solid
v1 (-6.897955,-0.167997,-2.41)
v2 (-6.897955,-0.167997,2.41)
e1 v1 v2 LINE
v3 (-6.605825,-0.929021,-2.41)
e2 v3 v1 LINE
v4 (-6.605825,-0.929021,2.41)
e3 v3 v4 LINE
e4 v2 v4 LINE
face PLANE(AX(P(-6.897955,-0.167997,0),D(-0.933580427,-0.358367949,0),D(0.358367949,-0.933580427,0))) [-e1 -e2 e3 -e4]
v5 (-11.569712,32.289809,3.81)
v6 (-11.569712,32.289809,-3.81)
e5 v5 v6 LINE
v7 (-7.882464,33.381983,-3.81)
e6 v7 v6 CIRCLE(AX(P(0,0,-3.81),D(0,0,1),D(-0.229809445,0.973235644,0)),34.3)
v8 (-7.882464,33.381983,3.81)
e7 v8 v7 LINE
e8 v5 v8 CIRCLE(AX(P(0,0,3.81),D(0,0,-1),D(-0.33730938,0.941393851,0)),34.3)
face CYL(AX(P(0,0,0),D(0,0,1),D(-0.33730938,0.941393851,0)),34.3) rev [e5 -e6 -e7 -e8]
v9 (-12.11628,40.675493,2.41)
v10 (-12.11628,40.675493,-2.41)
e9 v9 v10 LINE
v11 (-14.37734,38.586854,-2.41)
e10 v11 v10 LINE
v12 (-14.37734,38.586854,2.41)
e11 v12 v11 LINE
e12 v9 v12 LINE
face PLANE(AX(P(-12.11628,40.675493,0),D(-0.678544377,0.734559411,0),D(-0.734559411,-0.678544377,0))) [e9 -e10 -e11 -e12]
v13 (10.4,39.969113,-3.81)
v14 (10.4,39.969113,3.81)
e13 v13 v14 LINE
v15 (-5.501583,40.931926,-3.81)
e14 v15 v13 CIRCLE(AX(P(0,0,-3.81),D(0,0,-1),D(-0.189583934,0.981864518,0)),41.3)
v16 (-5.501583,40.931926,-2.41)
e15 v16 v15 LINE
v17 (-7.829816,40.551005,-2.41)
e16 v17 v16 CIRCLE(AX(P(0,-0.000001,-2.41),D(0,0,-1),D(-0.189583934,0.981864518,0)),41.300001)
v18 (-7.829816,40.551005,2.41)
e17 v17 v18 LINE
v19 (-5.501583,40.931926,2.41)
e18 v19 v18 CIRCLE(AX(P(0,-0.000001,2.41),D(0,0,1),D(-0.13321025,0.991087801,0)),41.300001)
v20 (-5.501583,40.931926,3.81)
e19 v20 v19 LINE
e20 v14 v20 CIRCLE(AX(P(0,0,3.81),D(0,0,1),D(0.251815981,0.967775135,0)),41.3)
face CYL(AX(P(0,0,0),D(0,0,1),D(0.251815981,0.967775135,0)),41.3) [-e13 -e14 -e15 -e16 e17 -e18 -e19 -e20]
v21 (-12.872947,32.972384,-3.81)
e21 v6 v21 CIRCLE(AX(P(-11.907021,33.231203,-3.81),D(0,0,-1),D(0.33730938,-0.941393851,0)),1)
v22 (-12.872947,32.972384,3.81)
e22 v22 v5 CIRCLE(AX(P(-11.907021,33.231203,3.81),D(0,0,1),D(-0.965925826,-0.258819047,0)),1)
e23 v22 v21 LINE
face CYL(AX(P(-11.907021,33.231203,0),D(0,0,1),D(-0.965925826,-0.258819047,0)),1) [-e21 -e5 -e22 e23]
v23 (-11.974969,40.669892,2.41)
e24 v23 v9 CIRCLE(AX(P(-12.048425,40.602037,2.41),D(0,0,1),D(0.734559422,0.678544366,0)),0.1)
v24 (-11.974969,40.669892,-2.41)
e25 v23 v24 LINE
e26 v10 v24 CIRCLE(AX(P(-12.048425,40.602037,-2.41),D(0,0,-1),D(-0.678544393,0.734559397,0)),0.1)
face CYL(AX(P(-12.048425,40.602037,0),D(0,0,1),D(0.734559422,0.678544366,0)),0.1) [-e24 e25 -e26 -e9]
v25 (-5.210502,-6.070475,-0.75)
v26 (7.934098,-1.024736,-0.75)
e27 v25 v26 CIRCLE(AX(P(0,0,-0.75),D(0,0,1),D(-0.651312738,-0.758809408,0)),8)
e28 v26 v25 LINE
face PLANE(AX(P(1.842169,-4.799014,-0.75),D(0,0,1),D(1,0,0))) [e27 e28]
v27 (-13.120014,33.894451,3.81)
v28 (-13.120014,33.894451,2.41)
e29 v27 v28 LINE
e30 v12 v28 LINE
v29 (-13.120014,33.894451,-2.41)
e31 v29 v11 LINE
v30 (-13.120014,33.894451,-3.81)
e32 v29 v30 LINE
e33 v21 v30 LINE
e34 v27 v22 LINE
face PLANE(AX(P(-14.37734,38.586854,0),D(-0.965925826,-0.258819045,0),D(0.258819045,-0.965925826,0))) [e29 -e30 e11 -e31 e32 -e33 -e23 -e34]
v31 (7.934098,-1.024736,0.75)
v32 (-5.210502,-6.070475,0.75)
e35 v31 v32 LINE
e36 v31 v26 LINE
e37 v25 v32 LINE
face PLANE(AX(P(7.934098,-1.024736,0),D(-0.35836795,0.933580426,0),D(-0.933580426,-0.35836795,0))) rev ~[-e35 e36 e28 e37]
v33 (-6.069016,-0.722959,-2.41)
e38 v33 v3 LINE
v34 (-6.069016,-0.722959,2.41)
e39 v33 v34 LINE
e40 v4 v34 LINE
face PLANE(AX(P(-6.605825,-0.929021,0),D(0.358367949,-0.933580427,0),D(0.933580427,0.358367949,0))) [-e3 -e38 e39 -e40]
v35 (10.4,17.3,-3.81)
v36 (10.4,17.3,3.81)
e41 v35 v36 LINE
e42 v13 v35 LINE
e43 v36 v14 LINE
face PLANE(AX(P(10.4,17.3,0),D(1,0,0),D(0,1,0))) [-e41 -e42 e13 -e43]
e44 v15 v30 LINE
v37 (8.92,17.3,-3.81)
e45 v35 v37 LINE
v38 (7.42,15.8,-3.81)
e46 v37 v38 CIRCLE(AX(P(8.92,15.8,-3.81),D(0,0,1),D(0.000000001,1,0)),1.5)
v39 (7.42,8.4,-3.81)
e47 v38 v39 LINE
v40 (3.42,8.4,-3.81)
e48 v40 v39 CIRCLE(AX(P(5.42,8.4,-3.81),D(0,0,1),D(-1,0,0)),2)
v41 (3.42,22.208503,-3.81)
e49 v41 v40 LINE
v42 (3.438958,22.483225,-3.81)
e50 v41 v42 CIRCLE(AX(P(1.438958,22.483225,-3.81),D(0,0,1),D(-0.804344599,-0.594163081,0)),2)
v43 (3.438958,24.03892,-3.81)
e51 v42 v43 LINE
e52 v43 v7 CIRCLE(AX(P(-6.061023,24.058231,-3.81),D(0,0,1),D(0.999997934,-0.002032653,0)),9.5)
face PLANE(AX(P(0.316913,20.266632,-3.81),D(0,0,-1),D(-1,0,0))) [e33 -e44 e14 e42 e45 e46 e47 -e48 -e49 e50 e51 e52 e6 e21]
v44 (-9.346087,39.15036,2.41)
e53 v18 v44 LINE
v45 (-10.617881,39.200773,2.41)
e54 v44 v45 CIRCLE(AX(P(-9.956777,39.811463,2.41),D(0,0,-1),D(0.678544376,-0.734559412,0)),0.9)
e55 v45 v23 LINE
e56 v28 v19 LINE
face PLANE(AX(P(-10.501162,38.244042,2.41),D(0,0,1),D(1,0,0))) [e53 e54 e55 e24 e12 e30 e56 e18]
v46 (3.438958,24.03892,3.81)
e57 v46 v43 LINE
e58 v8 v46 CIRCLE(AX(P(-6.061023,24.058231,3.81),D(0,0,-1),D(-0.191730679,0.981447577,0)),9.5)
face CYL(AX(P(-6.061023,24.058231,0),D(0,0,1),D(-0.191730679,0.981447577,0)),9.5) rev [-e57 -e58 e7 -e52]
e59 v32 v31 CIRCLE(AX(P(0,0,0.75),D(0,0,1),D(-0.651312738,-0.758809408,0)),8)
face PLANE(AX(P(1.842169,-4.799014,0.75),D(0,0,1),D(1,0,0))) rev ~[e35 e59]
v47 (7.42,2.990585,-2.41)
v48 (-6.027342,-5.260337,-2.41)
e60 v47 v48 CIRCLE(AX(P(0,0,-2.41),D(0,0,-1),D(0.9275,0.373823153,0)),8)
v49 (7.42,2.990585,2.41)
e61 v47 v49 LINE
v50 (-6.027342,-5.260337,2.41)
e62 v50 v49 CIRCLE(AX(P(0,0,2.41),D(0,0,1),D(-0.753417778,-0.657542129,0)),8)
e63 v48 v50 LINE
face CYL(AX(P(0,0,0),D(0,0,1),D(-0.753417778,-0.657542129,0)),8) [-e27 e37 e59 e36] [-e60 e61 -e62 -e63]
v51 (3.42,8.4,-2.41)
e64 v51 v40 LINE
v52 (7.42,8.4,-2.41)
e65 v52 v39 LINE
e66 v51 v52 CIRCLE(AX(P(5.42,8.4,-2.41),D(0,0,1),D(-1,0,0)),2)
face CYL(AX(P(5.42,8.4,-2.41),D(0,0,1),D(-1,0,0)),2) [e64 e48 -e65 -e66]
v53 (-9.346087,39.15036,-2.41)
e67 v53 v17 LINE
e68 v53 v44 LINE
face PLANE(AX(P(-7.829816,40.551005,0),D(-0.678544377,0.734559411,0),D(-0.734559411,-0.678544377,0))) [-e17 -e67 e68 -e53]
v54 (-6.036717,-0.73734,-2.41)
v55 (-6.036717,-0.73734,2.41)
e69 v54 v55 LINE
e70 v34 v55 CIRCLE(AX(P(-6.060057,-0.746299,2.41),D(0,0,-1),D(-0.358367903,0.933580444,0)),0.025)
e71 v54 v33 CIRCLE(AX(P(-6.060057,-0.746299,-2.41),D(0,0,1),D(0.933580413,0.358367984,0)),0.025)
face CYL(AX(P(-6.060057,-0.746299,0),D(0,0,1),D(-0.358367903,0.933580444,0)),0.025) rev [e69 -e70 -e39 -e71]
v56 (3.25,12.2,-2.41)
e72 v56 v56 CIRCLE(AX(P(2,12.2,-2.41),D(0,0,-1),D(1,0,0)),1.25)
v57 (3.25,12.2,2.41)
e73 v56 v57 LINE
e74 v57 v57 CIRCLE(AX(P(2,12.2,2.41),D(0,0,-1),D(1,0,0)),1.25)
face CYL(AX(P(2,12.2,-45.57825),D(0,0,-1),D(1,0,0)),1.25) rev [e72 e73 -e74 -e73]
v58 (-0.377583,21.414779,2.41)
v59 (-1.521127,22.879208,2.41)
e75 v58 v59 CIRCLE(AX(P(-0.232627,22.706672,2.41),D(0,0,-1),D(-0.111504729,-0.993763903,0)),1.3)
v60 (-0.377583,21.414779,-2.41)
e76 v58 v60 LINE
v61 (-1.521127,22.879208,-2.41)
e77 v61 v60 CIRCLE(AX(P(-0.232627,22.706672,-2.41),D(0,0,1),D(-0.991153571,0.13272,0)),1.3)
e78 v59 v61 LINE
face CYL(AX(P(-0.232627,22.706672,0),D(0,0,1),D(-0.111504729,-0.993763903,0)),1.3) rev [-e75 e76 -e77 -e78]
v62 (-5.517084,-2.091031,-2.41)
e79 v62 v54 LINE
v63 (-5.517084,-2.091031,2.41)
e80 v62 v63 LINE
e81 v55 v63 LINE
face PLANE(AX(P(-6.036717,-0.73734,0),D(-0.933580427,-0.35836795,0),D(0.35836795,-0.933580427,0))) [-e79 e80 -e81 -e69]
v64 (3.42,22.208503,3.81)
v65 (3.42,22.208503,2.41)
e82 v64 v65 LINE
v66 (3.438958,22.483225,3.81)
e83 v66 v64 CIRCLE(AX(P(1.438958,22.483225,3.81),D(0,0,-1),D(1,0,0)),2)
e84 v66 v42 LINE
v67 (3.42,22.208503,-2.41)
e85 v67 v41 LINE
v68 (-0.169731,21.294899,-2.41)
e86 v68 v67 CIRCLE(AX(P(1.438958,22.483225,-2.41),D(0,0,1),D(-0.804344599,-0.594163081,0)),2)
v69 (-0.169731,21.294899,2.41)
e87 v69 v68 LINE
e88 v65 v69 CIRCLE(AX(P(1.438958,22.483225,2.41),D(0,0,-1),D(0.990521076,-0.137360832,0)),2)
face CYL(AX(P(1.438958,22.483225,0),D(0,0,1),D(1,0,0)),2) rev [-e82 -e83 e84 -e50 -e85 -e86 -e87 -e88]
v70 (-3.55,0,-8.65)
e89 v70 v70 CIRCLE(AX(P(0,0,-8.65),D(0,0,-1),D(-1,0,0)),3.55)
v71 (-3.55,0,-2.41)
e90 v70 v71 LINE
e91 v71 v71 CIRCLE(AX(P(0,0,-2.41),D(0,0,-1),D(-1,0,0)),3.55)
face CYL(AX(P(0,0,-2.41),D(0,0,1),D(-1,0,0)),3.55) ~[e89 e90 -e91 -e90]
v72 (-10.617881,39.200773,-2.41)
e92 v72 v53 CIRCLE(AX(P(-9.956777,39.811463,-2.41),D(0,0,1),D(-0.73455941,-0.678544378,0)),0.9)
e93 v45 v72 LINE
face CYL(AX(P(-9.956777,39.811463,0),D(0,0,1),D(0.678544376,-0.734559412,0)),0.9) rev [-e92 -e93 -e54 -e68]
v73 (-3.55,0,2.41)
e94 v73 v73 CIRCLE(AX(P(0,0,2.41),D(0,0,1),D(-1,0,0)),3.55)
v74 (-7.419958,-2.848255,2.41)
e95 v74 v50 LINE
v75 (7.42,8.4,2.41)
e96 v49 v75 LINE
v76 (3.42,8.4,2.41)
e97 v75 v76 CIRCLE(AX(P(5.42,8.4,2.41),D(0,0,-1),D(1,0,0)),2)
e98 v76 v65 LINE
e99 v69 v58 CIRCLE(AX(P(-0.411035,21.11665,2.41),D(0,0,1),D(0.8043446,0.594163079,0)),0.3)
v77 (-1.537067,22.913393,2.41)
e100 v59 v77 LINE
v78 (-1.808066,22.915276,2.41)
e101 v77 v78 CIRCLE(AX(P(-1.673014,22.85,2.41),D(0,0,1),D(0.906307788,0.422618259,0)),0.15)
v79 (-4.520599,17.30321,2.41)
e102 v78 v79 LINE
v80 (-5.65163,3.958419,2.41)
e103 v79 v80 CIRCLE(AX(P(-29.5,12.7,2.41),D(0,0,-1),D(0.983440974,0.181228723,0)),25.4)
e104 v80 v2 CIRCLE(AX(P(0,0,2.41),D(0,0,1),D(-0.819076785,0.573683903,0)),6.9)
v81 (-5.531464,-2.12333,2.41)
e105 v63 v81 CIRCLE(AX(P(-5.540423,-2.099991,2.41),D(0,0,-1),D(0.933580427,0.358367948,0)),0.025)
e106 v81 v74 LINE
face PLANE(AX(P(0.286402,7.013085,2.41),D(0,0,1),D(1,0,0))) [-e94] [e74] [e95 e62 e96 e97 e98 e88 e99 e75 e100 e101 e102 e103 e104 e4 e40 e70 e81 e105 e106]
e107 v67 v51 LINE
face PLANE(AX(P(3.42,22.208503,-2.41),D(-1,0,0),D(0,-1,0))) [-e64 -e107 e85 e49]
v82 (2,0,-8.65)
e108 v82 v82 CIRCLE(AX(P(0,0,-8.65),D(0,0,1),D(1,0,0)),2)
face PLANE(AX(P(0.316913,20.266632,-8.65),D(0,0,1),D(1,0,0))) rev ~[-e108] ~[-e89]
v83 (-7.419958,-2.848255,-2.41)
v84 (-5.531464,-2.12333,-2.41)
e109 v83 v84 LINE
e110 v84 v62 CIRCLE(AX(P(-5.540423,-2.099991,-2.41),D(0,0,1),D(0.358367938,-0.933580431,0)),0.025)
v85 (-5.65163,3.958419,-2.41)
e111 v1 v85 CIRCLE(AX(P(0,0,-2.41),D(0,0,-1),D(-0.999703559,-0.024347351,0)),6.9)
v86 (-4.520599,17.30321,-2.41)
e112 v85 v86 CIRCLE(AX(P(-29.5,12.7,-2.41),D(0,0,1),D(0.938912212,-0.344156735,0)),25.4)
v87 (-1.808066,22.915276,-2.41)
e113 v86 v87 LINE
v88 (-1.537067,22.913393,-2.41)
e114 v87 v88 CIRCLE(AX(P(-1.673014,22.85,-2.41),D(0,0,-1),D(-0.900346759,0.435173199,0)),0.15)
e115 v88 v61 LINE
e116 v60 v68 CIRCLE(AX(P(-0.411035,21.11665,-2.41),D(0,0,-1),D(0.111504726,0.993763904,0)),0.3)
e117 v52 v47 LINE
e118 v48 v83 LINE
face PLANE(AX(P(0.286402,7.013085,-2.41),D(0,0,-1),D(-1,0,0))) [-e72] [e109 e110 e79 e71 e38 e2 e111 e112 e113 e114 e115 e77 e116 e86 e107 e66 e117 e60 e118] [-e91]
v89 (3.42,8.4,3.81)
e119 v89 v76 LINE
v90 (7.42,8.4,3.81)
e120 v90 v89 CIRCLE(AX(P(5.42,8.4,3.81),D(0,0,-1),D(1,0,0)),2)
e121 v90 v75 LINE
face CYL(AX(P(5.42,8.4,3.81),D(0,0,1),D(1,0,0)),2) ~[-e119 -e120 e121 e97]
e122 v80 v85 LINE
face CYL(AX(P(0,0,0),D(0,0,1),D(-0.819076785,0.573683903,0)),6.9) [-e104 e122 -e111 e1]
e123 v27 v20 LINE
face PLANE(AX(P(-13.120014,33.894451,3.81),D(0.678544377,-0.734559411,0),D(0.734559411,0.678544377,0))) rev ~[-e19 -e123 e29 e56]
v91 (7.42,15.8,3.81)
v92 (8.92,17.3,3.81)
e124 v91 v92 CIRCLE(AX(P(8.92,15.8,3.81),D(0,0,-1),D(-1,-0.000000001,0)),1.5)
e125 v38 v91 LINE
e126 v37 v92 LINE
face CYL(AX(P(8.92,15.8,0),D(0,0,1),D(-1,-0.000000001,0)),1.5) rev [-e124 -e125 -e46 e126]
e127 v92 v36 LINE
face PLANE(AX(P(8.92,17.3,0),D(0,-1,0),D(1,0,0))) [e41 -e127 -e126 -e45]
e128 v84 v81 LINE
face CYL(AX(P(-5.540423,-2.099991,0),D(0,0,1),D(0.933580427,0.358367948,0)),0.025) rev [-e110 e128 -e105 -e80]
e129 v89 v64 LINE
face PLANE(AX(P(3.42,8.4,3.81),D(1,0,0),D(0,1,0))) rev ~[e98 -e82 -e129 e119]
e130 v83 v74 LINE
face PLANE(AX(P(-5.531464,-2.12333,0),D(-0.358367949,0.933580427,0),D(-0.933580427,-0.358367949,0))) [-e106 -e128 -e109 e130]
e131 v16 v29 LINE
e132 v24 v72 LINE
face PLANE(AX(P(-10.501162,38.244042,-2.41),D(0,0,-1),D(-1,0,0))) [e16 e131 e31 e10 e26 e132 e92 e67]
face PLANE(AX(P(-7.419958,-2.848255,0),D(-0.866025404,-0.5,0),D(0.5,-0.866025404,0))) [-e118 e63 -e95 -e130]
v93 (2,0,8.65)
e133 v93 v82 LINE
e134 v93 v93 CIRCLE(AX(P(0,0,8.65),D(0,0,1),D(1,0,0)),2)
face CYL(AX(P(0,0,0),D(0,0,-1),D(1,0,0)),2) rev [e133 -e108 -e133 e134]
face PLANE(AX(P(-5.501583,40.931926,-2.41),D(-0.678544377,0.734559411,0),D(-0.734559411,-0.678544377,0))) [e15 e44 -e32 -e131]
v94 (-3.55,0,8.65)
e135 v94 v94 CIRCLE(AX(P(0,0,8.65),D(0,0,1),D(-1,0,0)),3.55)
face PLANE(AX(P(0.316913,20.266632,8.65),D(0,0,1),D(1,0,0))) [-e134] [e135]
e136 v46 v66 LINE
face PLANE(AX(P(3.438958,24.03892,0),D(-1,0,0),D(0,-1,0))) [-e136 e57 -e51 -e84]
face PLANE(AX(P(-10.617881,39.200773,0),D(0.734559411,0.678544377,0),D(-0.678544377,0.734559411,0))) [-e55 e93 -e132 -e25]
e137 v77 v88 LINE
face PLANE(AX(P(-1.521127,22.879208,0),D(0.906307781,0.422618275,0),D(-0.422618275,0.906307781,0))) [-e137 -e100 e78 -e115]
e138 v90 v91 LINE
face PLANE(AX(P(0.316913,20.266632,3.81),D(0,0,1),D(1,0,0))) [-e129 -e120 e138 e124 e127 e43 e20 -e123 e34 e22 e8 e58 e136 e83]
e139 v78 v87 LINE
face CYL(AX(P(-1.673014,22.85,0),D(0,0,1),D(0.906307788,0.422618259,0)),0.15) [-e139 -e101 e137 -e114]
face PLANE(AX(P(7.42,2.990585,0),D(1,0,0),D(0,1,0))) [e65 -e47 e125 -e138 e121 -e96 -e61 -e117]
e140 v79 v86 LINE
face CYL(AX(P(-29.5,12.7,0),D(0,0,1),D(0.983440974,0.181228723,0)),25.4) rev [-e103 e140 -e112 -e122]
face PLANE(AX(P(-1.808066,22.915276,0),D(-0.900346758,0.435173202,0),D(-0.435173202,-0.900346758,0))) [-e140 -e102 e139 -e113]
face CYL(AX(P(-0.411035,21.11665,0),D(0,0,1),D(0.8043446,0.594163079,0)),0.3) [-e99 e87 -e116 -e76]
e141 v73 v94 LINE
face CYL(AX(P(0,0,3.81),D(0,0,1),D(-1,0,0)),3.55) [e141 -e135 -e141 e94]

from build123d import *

# Parameters (mm, degrees)
SKETCH1_R               = 2
BOSS_EXTRUDE2_DEPTH     = 8.65
CUT_EXTRUDE3_START      = -4.84
SKETCH21_R              = 3.55
CUT_EXTRUDE3_DEPTH      = 4.84
SKETCH18_R              = 3.55
CUT_EXTRUDE4_DEPTH      = 4.84
SKETCH27_R              = 3.55
CUT_EXTRUDE7_DEPTH      = 1.4
CUT_EXTRUDE8_START      = -1.4
SKETCH29_R              = 3.55
CUT_EXTRUDE8_DEPTH      = 1.4
CUT_EXTRUDE9_DEPTH      = 45.578250281
CUT_EXTRUDE9_DEPTH_BACK = 45.578250281
SKETCH6_R               = 1.25
CUT_EXTRUDE10_DEPTH     = 0.75


with BuildPart() as part:
    # Sketch1 → Boss-Extrude2 (new, symmetric)
    with BuildSketch(Plane.XY):
        with BuildLine():
            ThreePointArc((-5.651629818, 3.958418927), (-6.605289058, 1.995032948), (-6.897954559, -0.167996721))
            Line((-6.897954559, -0.167996721), (-6.605824697, -0.929021032))
            Line((-6.605824697, -0.929021032), (-6.069015951, -0.722959461))
            ThreePointArc((-6.069015951, -0.722959461), (-6.049888336, -0.723460336), (-6.036717242, -0.737339773))
            Line((-6.036717242, -0.737339773), (-5.517083715, -2.091031392))
            ThreePointArc((-5.517083715, -2.091031392), (-5.517584589, -2.110159006), (-5.531464027, -2.123330101))
            Line((-5.531464027, -2.123330101), (-7.419958348, -2.848255151))
            Line((-7.419958348, -2.848255151), (-6.027342222, -5.260337036))
            ThreePointArc((-6.027342222, -5.260337036), (4.183814464, -6.818775296), (7.42, 2.990585227))
            Line((7.42, 2.990585227), (7.42, 9.395292614))
            Line((7.42, 9.395292614), (7.42, 15.8))
            ThreePointArc((7.42, 15.8), (7.859339828, 16.860660172), (8.92, 17.3))
            Line((8.92, 17.3), (10.4, 17.3))
            Line((10.4, 17.3), (10.4, 39.969113075))
            ThreePointArc((10.4, 39.969113075), (1.317615366, 41.278976365), (-7.82981649, 40.551004596))
            Line((-7.82981649, 40.551004596), (-9.346087248, 39.150359553))
            ThreePointArc((-9.346087248, 39.150359553), (-9.992424937, 38.912169279), (-10.617880658, 39.200773083))
            Line((-10.617880658, 39.200773083), (-11.974969412, 40.669891905))
            ThreePointArc((-11.974969412, 40.669891905), (-12.044464492, 40.701958995), (-12.116279791, 40.675493408))
            Line((-12.116279791, 40.675493408), (-14.377339743, 38.586854295))
            Line((-14.377339743, 38.586854295), (-12.872946932, 32.972383888))
            ThreePointArc((-12.872946932, 32.972383888), (-12.370989585, 32.345351225), (-11.569711725, 32.289809083))
            ThreePointArc((-11.569711725, 32.289809083), (-9.741406245, 32.887611716), (-7.882463977, 33.38198259))
            ThreePointArc((-7.882463977, 33.38198259), (-0.014271933, 31.38535878), (3.438957848, 24.038920408))
            Line((3.438957848, 24.038920408), (3.438957848, 22.483224896))
            ThreePointArc((3.438957848, 22.483224896), (2.06450625, 20.583569875), (-0.169731349, 21.294898734))
            ThreePointArc((-0.169731349, 21.294898734), (-0.261150212, 21.376524071), (-0.377583309, 21.41477898))
            ThreePointArc((-0.377583309, 21.41477898), (-1.257242701, 21.906570189), (-1.521126803, 22.879208054))
            Line((-1.521126803, 22.879208054), (-1.537067384, 22.913392739))
            ThreePointArc((-1.537067384, 22.913392739), (-1.671971186, 22.999996378), (-1.808065565, 22.91527598))
            Line((-1.808065565, 22.91527598), (-4.520599254, 17.303209571))
            ThreePointArc((-4.520599254, 17.303209571), (-4.190739584, 10.554927226), (-5.651629818, 3.958418927))
        make_face()
        Circle(SKETCH1_R, mode=Mode.SUBTRACT)
    extrude(amount=BOSS_EXTRUDE2_DEPTH, both=True)

    # Sketch21 → Cut-Extrude3 (cut)
    with BuildSketch(Plane(origin=(0, 0, -8.65), x_dir=(-1, 0, 0), z_dir=(0, 0, -1)).offset(CUT_EXTRUDE3_START)):
        with BuildLine():
            Line((12.872946932, 32.972383888), (14.377339743, 38.586854295))
            Line((14.377339743, 38.586854295), (12.116279791, 40.675493408))
            ThreePointArc((12.116279791, 40.675493408), (12.044464492, 40.701958995), (11.974969412, 40.669891905))
            Line((11.974969412, 40.669891905), (10.617880658, 39.200773083))
            ThreePointArc((10.617880658, 39.200773083), (9.992424937, 38.912169279), (9.346087248, 39.150359553))
            Line((9.346087248, 39.150359553), (7.82981649, 40.551004596))
            ThreePointArc((7.82981649, 40.551004596), (-1.317615366, 41.278976365), (-10.4, 39.969113075))
            Line((-10.4, 39.969113075), (-10.4, 17.3))
            Line((-10.4, 17.3), (-8.92, 17.3))
            ThreePointArc((-8.92, 17.3), (-7.859339828, 16.860660172), (-7.42, 15.8))
            Line((-7.42, 15.8), (-7.42, 9.395292614))
            Line((-7.42, 9.395292614), (-7.42, 2.990585227))
            ThreePointArc((-7.42, 2.990585227), (-4.183814464, -6.818775296), (6.027342222, -5.260337036))
            Line((6.027342222, -5.260337036), (7.419958348, -2.848255151))
            Line((7.419958348, -2.848255151), (5.531464027, -2.123330101))
            ThreePointArc((5.531464027, -2.123330101), (5.517584589, -2.110159006), (5.517083715, -2.091031392))
            Line((5.517083715, -2.091031392), (6.036717242, -0.737339773))
            ThreePointArc((6.036717242, -0.737339773), (6.049888336, -0.723460336), (6.069015951, -0.722959461))
            Line((6.069015951, -0.722959461), (6.605824697, -0.929021032))
            Line((6.605824697, -0.929021032), (6.897954559, -0.167996721))
            ThreePointArc((6.897954559, -0.167996721), (6.605289058, 1.995032948), (5.651629818, 3.958418927))
            ThreePointArc((5.651629818, 3.958418927), (4.190739584, 10.554927226), (4.520599254, 17.303209571))
            Line((4.520599254, 17.303209571), (1.808065565, 22.91527598))
            ThreePointArc((1.808065565, 22.91527598), (1.671971186, 22.999996378), (1.537067384, 22.913392739))
            Line((1.537067384, 22.913392739), (1.521126803, 22.879208054))
            ThreePointArc((1.521126803, 22.879208054), (1.257242701, 21.906570189), (0.377583309, 21.41477898))
            ThreePointArc((0.377583309, 21.41477898), (0.261150212, 21.376524071), (0.169731349, 21.294898734))
            ThreePointArc((0.169731349, 21.294898734), (-2.06450625, 20.583569875), (-3.438957848, 22.483224896))
            Line((-3.438957848, 22.483224896), (-3.438957848, 24.038920408))
            ThreePointArc((-3.438957848, 24.038920408), (0.014271933, 31.38535878), (7.882463977, 33.38198259))
            ThreePointArc((7.882463977, 33.38198259), (9.741406245, 32.887611716), (11.569711725, 32.289809083))
            ThreePointArc((11.569711725, 32.289809083), (12.370989585, 32.345351225), (12.872946932, 32.972383888))
        make_face()
        Circle(SKETCH21_R, mode=Mode.SUBTRACT)
    extrude(amount=CUT_EXTRUDE3_DEPTH, mode=Mode.SUBTRACT)

    # Sketch18 → Cut-Extrude4 (cut)
    with BuildSketch(Plane.XY.offset(8.65)):
        with BuildLine():
            ThreePointArc((-5.651629818, 3.958418927), (-6.605289058, 1.995032948), (-6.897954559, -0.167996721))
            Line((-6.897954559, -0.167996721), (-6.605824697, -0.929021032))
            Line((-6.605824697, -0.929021032), (-6.069015951, -0.722959461))
            ThreePointArc((-6.069015951, -0.722959461), (-6.049888336, -0.723460336), (-6.036717242, -0.737339773))
            Line((-6.036717242, -0.737339773), (-5.517083715, -2.091031392))
            ThreePointArc((-5.517083715, -2.091031392), (-5.517584589, -2.110159006), (-5.531464027, -2.123330101))
            Line((-5.531464027, -2.123330101), (-7.419958348, -2.848255151))
            Line((-7.419958348, -2.848255151), (-6.027342222, -5.260337036))
            ThreePointArc((-6.027342222, -5.260337036), (4.183814464, -6.818775296), (7.42, 2.990585227))
            Line((7.42, 2.990585227), (7.42, 9.395292614))
            Line((7.42, 9.395292614), (7.42, 15.8))
            ThreePointArc((7.42, 15.8), (7.859339828, 16.860660172), (8.92, 17.3))
            Line((8.92, 17.3), (10.4, 17.3))
            Line((10.4, 17.3), (10.4, 39.969113075))
            ThreePointArc((10.4, 39.969113075), (1.317615366, 41.278976365), (-7.82981649, 40.551004596))
            Line((-7.82981649, 40.551004596), (-9.346087248, 39.150359553))
            ThreePointArc((-9.346087248, 39.150359553), (-9.992424937, 38.912169279), (-10.617880658, 39.200773083))
            Line((-10.617880658, 39.200773083), (-11.974969412, 40.669891905))
            ThreePointArc((-11.974969412, 40.669891905), (-12.044464492, 40.701958995), (-12.116279791, 40.675493408))
            Line((-12.116279791, 40.675493408), (-14.377339743, 38.586854295))
            Line((-14.377339743, 38.586854295), (-12.872946932, 32.972383888))
            ThreePointArc((-12.872946932, 32.972383888), (-12.370989585, 32.345351225), (-11.569711725, 32.289809083))
            ThreePointArc((-11.569711725, 32.289809083), (-9.741406245, 32.887611716), (-7.882463977, 33.38198259))
            ThreePointArc((-7.882463977, 33.38198259), (-0.014271933, 31.38535878), (3.438957848, 24.038920408))
            Line((3.438957848, 24.038920408), (3.438957848, 22.483224896))
            ThreePointArc((3.438957848, 22.483224896), (2.06450625, 20.583569875), (-0.169731349, 21.294898734))
            ThreePointArc((-0.169731349, 21.294898734), (-0.261150212, 21.376524071), (-0.377583309, 21.41477898))
            ThreePointArc((-0.377583309, 21.41477898), (-1.257242701, 21.906570189), (-1.521126803, 22.879208054))
            Line((-1.521126803, 22.879208054), (-1.537067384, 22.913392739))
            ThreePointArc((-1.537067384, 22.913392739), (-1.671971186, 22.999996378), (-1.808065565, 22.91527598))
            Line((-1.808065565, 22.91527598), (-4.520599254, 17.303209571))
            ThreePointArc((-4.520599254, 17.303209571), (-4.190739584, 10.554927226), (-5.651629818, 3.958418927))
        make_face()
        with Locations(Location((0, 0, 0), (0, 0, 180))):
            Circle(SKETCH18_R, mode=Mode.SUBTRACT)
    extrude(amount=-CUT_EXTRUDE4_DEPTH, mode=Mode.SUBTRACT)

    # Sketch27 → Cut-Extrude7 (cut)
    # profile 1 of 2: a face of its own
    with BuildSketch(Plane.XY.offset(3.81)):
        with BuildLine():
            ThreePointArc((-5.651629818, 3.958418927), (-6.605289058, 1.995032948), (-6.897954559, -0.167996721))
            Line((-6.897954559, -0.167996721), (-6.605824697, -0.929021032))
            Line((-6.605824697, -0.929021032), (-6.069015951, -0.722959461))
            ThreePointArc((-6.069015951, -0.722959461), (-6.049888336, -0.723460336), (-6.036717242, -0.737339773))
            Line((-6.036717242, -0.737339773), (-5.517083715, -2.091031392))
            ThreePointArc((-5.517083715, -2.091031392), (-5.517584589, -2.110159006), (-5.531464027, -2.123330101))
            Line((-5.531464027, -2.123330101), (-7.419958348, -2.848255151))
            Line((-7.419958348, -2.848255151), (-6.027342222, -5.260337036))
            ThreePointArc((-6.027342222, -5.260337036), (4.183814464, -6.818775296), (7.42, 2.990585227))
            Line((7.42, 2.990585227), (7.42, 8.4))
            ThreePointArc((7.42, 8.4), (5.42, 6.4), (3.42, 8.4))
            Line((3.42, 8.4), (3.42, 22.208503231))
            ThreePointArc((3.42, 22.208503231), (1.932242731, 20.545011795), (-0.169731349, 21.294898734))
            ThreePointArc((-0.169731349, 21.294898734), (-0.261150212, 21.376524071), (-0.377583309, 21.41477898))
            ThreePointArc((-0.377583309, 21.41477898), (-1.257242701, 21.906570189), (-1.521126803, 22.879208054))
            Line((-1.521126803, 22.879208054), (-1.537067384, 22.913392739))
            ThreePointArc((-1.537067384, 22.913392739), (-1.671971186, 22.999996378), (-1.808065565, 22.91527598))
            Line((-1.808065565, 22.91527598), (-4.520599254, 17.303209571))
            ThreePointArc((-4.520599254, 17.303209571), (-4.190739584, 10.554927226), (-5.651629818, 3.958418927))
        make_face()
        with Locations(Location((0, 0, 0), (0, 0, 180))):
            Circle(SKETCH27_R, mode=Mode.SUBTRACT)
    # profile 2 of 2: a face of its own
    with BuildSketch(Plane.XY.offset(3.81)):
        with BuildLine():
            Line((-13.120014147, 33.89445129), (-5.501583304, 40.931926184))
            ThreePointArc((-5.501583304, 40.931926184), (-6.668420385, 40.758093301), (-7.82981649, 40.551004596))
            Line((-7.82981649, 40.551004596), (-9.346087248, 39.150359553))
            ThreePointArc((-9.346087248, 39.150359553), (-9.992424937, 38.912169279), (-10.617880658, 39.200773083))
            Line((-10.617880658, 39.200773083), (-11.974969412, 40.669891905))
            ThreePointArc((-11.974969412, 40.669891905), (-12.044464492, 40.701958995), (-12.116279791, 40.675493408))
            Line((-12.116279791, 40.675493408), (-14.377339743, 38.586854295))
            Line((-14.377339743, 38.586854295), (-13.120014147, 33.89445129))
        make_face()
    extrude(amount=-CUT_EXTRUDE7_DEPTH, mode=Mode.SUBTRACT)

    # Sketch29 → Cut-Extrude8 (cut)
    # profile 1 of 2: a face of its own
    with BuildSketch(Plane(origin=(0, 0, -3.81), x_dir=(-1, 0, 0), z_dir=(0, 0, -1)).offset(CUT_EXTRUDE8_START)):
        with BuildLine():
            Line((13.120014147, 33.89445129), (14.377339743, 38.586854295))
            Line((14.377339743, 38.586854295), (12.116279791, 40.675493408))
            ThreePointArc((12.116279791, 40.675493408), (12.044464492, 40.701958995), (11.974969412, 40.669891905))
            Line((11.974969412, 40.669891905), (10.617880658, 39.200773083))
            ThreePointArc((10.617880658, 39.200773083), (9.992424937, 38.912169279), (9.346087248, 39.150359553))
            Line((9.346087248, 39.150359553), (7.82981649, 40.551004596))
            ThreePointArc((7.82981649, 40.551004596), (6.668420385, 40.758093301), (5.501583304, 40.931926184))
            Line((5.501583304, 40.931926184), (13.120014147, 33.89445129))
        make_face()
    # profile 2 of 2: a face of its own
    with BuildSketch(Plane(origin=(0, 0, -3.81), x_dir=(-1, 0, 0), z_dir=(0, 0, -1)).offset(CUT_EXTRUDE8_START)):
        with BuildLine():
            ThreePointArc((0.169731349, 21.294898734), (-1.932242731, 20.545011795), (-3.42, 22.208503231))
            Line((-3.42, 22.208503231), (-3.42, 8.4))
            ThreePointArc((-3.42, 8.4), (-5.42, 6.4), (-7.42, 8.4))
            Line((-7.42, 8.4), (-7.42, 2.990585227))
            ThreePointArc((-7.42, 2.990585227), (-4.183814464, -6.818775296), (6.027342222, -5.260337036))
            Line((6.027342222, -5.260337036), (7.419958348, -2.848255151))
            Line((7.419958348, -2.848255151), (5.531464027, -2.123330101))
            ThreePointArc((5.531464027, -2.123330101), (5.517584589, -2.110159006), (5.517083715, -2.091031392))
            Line((5.517083715, -2.091031392), (6.036717242, -0.737339773))
            ThreePointArc((6.036717242, -0.737339773), (6.049888336, -0.723460336), (6.069015951, -0.722959461))
            Line((6.069015951, -0.722959461), (6.605824697, -0.929021032))
            Line((6.605824697, -0.929021032), (6.897954559, -0.167996721))
            ThreePointArc((6.897954559, -0.167996721), (6.605289058, 1.995032948), (5.651629818, 3.958418927))
            ThreePointArc((5.651629818, 3.958418927), (4.190739584, 10.554927226), (4.520599254, 17.303209571))
            Line((4.520599254, 17.303209571), (1.808065565, 22.91527598))
            ThreePointArc((1.808065565, 22.91527598), (1.671971186, 22.999996378), (1.537067384, 22.913392739))
            Line((1.537067384, 22.913392739), (1.521126803, 22.879208054))
            ThreePointArc((1.521126803, 22.879208054), (1.257242701, 21.906570189), (0.377583309, 21.41477898))
            ThreePointArc((0.377583309, 21.41477898), (0.261150212, 21.376524071), (0.169731349, 21.294898734))
        make_face()
        Circle(SKETCH29_R, mode=Mode.SUBTRACT)
    extrude(amount=CUT_EXTRUDE8_DEPTH, mode=Mode.SUBTRACT)

    # Sketch6 → Cut-Extrude9 (cut, two sides: drawn at the far end of the back side and taken through both)
    with BuildSketch(Plane.XY.offset(-CUT_EXTRUDE9_DEPTH_BACK)):
        with Locations((2, 12.2)):
            Circle(SKETCH6_R)
    extrude(amount=CUT_EXTRUDE9_DEPTH + CUT_EXTRUDE9_DEPTH_BACK, mode=Mode.SUBTRACT)

    # Sketch30 → Cut-Extrude10 (cut, symmetric)
    with BuildSketch(Plane.XY):
        with BuildLine():
            Line((7.934098321, -1.02473598), (-5.210501905, -6.070475262))
            ThreePointArc((-5.210501905, -6.070475262), (2.866943596, -7.468643412), (7.934098321, -1.02473598))
        make_face()
    extrude(amount=CUT_EXTRUDE10_DEPTH, both=True, mode=Mode.SUBTRACT)


solid = part.part
